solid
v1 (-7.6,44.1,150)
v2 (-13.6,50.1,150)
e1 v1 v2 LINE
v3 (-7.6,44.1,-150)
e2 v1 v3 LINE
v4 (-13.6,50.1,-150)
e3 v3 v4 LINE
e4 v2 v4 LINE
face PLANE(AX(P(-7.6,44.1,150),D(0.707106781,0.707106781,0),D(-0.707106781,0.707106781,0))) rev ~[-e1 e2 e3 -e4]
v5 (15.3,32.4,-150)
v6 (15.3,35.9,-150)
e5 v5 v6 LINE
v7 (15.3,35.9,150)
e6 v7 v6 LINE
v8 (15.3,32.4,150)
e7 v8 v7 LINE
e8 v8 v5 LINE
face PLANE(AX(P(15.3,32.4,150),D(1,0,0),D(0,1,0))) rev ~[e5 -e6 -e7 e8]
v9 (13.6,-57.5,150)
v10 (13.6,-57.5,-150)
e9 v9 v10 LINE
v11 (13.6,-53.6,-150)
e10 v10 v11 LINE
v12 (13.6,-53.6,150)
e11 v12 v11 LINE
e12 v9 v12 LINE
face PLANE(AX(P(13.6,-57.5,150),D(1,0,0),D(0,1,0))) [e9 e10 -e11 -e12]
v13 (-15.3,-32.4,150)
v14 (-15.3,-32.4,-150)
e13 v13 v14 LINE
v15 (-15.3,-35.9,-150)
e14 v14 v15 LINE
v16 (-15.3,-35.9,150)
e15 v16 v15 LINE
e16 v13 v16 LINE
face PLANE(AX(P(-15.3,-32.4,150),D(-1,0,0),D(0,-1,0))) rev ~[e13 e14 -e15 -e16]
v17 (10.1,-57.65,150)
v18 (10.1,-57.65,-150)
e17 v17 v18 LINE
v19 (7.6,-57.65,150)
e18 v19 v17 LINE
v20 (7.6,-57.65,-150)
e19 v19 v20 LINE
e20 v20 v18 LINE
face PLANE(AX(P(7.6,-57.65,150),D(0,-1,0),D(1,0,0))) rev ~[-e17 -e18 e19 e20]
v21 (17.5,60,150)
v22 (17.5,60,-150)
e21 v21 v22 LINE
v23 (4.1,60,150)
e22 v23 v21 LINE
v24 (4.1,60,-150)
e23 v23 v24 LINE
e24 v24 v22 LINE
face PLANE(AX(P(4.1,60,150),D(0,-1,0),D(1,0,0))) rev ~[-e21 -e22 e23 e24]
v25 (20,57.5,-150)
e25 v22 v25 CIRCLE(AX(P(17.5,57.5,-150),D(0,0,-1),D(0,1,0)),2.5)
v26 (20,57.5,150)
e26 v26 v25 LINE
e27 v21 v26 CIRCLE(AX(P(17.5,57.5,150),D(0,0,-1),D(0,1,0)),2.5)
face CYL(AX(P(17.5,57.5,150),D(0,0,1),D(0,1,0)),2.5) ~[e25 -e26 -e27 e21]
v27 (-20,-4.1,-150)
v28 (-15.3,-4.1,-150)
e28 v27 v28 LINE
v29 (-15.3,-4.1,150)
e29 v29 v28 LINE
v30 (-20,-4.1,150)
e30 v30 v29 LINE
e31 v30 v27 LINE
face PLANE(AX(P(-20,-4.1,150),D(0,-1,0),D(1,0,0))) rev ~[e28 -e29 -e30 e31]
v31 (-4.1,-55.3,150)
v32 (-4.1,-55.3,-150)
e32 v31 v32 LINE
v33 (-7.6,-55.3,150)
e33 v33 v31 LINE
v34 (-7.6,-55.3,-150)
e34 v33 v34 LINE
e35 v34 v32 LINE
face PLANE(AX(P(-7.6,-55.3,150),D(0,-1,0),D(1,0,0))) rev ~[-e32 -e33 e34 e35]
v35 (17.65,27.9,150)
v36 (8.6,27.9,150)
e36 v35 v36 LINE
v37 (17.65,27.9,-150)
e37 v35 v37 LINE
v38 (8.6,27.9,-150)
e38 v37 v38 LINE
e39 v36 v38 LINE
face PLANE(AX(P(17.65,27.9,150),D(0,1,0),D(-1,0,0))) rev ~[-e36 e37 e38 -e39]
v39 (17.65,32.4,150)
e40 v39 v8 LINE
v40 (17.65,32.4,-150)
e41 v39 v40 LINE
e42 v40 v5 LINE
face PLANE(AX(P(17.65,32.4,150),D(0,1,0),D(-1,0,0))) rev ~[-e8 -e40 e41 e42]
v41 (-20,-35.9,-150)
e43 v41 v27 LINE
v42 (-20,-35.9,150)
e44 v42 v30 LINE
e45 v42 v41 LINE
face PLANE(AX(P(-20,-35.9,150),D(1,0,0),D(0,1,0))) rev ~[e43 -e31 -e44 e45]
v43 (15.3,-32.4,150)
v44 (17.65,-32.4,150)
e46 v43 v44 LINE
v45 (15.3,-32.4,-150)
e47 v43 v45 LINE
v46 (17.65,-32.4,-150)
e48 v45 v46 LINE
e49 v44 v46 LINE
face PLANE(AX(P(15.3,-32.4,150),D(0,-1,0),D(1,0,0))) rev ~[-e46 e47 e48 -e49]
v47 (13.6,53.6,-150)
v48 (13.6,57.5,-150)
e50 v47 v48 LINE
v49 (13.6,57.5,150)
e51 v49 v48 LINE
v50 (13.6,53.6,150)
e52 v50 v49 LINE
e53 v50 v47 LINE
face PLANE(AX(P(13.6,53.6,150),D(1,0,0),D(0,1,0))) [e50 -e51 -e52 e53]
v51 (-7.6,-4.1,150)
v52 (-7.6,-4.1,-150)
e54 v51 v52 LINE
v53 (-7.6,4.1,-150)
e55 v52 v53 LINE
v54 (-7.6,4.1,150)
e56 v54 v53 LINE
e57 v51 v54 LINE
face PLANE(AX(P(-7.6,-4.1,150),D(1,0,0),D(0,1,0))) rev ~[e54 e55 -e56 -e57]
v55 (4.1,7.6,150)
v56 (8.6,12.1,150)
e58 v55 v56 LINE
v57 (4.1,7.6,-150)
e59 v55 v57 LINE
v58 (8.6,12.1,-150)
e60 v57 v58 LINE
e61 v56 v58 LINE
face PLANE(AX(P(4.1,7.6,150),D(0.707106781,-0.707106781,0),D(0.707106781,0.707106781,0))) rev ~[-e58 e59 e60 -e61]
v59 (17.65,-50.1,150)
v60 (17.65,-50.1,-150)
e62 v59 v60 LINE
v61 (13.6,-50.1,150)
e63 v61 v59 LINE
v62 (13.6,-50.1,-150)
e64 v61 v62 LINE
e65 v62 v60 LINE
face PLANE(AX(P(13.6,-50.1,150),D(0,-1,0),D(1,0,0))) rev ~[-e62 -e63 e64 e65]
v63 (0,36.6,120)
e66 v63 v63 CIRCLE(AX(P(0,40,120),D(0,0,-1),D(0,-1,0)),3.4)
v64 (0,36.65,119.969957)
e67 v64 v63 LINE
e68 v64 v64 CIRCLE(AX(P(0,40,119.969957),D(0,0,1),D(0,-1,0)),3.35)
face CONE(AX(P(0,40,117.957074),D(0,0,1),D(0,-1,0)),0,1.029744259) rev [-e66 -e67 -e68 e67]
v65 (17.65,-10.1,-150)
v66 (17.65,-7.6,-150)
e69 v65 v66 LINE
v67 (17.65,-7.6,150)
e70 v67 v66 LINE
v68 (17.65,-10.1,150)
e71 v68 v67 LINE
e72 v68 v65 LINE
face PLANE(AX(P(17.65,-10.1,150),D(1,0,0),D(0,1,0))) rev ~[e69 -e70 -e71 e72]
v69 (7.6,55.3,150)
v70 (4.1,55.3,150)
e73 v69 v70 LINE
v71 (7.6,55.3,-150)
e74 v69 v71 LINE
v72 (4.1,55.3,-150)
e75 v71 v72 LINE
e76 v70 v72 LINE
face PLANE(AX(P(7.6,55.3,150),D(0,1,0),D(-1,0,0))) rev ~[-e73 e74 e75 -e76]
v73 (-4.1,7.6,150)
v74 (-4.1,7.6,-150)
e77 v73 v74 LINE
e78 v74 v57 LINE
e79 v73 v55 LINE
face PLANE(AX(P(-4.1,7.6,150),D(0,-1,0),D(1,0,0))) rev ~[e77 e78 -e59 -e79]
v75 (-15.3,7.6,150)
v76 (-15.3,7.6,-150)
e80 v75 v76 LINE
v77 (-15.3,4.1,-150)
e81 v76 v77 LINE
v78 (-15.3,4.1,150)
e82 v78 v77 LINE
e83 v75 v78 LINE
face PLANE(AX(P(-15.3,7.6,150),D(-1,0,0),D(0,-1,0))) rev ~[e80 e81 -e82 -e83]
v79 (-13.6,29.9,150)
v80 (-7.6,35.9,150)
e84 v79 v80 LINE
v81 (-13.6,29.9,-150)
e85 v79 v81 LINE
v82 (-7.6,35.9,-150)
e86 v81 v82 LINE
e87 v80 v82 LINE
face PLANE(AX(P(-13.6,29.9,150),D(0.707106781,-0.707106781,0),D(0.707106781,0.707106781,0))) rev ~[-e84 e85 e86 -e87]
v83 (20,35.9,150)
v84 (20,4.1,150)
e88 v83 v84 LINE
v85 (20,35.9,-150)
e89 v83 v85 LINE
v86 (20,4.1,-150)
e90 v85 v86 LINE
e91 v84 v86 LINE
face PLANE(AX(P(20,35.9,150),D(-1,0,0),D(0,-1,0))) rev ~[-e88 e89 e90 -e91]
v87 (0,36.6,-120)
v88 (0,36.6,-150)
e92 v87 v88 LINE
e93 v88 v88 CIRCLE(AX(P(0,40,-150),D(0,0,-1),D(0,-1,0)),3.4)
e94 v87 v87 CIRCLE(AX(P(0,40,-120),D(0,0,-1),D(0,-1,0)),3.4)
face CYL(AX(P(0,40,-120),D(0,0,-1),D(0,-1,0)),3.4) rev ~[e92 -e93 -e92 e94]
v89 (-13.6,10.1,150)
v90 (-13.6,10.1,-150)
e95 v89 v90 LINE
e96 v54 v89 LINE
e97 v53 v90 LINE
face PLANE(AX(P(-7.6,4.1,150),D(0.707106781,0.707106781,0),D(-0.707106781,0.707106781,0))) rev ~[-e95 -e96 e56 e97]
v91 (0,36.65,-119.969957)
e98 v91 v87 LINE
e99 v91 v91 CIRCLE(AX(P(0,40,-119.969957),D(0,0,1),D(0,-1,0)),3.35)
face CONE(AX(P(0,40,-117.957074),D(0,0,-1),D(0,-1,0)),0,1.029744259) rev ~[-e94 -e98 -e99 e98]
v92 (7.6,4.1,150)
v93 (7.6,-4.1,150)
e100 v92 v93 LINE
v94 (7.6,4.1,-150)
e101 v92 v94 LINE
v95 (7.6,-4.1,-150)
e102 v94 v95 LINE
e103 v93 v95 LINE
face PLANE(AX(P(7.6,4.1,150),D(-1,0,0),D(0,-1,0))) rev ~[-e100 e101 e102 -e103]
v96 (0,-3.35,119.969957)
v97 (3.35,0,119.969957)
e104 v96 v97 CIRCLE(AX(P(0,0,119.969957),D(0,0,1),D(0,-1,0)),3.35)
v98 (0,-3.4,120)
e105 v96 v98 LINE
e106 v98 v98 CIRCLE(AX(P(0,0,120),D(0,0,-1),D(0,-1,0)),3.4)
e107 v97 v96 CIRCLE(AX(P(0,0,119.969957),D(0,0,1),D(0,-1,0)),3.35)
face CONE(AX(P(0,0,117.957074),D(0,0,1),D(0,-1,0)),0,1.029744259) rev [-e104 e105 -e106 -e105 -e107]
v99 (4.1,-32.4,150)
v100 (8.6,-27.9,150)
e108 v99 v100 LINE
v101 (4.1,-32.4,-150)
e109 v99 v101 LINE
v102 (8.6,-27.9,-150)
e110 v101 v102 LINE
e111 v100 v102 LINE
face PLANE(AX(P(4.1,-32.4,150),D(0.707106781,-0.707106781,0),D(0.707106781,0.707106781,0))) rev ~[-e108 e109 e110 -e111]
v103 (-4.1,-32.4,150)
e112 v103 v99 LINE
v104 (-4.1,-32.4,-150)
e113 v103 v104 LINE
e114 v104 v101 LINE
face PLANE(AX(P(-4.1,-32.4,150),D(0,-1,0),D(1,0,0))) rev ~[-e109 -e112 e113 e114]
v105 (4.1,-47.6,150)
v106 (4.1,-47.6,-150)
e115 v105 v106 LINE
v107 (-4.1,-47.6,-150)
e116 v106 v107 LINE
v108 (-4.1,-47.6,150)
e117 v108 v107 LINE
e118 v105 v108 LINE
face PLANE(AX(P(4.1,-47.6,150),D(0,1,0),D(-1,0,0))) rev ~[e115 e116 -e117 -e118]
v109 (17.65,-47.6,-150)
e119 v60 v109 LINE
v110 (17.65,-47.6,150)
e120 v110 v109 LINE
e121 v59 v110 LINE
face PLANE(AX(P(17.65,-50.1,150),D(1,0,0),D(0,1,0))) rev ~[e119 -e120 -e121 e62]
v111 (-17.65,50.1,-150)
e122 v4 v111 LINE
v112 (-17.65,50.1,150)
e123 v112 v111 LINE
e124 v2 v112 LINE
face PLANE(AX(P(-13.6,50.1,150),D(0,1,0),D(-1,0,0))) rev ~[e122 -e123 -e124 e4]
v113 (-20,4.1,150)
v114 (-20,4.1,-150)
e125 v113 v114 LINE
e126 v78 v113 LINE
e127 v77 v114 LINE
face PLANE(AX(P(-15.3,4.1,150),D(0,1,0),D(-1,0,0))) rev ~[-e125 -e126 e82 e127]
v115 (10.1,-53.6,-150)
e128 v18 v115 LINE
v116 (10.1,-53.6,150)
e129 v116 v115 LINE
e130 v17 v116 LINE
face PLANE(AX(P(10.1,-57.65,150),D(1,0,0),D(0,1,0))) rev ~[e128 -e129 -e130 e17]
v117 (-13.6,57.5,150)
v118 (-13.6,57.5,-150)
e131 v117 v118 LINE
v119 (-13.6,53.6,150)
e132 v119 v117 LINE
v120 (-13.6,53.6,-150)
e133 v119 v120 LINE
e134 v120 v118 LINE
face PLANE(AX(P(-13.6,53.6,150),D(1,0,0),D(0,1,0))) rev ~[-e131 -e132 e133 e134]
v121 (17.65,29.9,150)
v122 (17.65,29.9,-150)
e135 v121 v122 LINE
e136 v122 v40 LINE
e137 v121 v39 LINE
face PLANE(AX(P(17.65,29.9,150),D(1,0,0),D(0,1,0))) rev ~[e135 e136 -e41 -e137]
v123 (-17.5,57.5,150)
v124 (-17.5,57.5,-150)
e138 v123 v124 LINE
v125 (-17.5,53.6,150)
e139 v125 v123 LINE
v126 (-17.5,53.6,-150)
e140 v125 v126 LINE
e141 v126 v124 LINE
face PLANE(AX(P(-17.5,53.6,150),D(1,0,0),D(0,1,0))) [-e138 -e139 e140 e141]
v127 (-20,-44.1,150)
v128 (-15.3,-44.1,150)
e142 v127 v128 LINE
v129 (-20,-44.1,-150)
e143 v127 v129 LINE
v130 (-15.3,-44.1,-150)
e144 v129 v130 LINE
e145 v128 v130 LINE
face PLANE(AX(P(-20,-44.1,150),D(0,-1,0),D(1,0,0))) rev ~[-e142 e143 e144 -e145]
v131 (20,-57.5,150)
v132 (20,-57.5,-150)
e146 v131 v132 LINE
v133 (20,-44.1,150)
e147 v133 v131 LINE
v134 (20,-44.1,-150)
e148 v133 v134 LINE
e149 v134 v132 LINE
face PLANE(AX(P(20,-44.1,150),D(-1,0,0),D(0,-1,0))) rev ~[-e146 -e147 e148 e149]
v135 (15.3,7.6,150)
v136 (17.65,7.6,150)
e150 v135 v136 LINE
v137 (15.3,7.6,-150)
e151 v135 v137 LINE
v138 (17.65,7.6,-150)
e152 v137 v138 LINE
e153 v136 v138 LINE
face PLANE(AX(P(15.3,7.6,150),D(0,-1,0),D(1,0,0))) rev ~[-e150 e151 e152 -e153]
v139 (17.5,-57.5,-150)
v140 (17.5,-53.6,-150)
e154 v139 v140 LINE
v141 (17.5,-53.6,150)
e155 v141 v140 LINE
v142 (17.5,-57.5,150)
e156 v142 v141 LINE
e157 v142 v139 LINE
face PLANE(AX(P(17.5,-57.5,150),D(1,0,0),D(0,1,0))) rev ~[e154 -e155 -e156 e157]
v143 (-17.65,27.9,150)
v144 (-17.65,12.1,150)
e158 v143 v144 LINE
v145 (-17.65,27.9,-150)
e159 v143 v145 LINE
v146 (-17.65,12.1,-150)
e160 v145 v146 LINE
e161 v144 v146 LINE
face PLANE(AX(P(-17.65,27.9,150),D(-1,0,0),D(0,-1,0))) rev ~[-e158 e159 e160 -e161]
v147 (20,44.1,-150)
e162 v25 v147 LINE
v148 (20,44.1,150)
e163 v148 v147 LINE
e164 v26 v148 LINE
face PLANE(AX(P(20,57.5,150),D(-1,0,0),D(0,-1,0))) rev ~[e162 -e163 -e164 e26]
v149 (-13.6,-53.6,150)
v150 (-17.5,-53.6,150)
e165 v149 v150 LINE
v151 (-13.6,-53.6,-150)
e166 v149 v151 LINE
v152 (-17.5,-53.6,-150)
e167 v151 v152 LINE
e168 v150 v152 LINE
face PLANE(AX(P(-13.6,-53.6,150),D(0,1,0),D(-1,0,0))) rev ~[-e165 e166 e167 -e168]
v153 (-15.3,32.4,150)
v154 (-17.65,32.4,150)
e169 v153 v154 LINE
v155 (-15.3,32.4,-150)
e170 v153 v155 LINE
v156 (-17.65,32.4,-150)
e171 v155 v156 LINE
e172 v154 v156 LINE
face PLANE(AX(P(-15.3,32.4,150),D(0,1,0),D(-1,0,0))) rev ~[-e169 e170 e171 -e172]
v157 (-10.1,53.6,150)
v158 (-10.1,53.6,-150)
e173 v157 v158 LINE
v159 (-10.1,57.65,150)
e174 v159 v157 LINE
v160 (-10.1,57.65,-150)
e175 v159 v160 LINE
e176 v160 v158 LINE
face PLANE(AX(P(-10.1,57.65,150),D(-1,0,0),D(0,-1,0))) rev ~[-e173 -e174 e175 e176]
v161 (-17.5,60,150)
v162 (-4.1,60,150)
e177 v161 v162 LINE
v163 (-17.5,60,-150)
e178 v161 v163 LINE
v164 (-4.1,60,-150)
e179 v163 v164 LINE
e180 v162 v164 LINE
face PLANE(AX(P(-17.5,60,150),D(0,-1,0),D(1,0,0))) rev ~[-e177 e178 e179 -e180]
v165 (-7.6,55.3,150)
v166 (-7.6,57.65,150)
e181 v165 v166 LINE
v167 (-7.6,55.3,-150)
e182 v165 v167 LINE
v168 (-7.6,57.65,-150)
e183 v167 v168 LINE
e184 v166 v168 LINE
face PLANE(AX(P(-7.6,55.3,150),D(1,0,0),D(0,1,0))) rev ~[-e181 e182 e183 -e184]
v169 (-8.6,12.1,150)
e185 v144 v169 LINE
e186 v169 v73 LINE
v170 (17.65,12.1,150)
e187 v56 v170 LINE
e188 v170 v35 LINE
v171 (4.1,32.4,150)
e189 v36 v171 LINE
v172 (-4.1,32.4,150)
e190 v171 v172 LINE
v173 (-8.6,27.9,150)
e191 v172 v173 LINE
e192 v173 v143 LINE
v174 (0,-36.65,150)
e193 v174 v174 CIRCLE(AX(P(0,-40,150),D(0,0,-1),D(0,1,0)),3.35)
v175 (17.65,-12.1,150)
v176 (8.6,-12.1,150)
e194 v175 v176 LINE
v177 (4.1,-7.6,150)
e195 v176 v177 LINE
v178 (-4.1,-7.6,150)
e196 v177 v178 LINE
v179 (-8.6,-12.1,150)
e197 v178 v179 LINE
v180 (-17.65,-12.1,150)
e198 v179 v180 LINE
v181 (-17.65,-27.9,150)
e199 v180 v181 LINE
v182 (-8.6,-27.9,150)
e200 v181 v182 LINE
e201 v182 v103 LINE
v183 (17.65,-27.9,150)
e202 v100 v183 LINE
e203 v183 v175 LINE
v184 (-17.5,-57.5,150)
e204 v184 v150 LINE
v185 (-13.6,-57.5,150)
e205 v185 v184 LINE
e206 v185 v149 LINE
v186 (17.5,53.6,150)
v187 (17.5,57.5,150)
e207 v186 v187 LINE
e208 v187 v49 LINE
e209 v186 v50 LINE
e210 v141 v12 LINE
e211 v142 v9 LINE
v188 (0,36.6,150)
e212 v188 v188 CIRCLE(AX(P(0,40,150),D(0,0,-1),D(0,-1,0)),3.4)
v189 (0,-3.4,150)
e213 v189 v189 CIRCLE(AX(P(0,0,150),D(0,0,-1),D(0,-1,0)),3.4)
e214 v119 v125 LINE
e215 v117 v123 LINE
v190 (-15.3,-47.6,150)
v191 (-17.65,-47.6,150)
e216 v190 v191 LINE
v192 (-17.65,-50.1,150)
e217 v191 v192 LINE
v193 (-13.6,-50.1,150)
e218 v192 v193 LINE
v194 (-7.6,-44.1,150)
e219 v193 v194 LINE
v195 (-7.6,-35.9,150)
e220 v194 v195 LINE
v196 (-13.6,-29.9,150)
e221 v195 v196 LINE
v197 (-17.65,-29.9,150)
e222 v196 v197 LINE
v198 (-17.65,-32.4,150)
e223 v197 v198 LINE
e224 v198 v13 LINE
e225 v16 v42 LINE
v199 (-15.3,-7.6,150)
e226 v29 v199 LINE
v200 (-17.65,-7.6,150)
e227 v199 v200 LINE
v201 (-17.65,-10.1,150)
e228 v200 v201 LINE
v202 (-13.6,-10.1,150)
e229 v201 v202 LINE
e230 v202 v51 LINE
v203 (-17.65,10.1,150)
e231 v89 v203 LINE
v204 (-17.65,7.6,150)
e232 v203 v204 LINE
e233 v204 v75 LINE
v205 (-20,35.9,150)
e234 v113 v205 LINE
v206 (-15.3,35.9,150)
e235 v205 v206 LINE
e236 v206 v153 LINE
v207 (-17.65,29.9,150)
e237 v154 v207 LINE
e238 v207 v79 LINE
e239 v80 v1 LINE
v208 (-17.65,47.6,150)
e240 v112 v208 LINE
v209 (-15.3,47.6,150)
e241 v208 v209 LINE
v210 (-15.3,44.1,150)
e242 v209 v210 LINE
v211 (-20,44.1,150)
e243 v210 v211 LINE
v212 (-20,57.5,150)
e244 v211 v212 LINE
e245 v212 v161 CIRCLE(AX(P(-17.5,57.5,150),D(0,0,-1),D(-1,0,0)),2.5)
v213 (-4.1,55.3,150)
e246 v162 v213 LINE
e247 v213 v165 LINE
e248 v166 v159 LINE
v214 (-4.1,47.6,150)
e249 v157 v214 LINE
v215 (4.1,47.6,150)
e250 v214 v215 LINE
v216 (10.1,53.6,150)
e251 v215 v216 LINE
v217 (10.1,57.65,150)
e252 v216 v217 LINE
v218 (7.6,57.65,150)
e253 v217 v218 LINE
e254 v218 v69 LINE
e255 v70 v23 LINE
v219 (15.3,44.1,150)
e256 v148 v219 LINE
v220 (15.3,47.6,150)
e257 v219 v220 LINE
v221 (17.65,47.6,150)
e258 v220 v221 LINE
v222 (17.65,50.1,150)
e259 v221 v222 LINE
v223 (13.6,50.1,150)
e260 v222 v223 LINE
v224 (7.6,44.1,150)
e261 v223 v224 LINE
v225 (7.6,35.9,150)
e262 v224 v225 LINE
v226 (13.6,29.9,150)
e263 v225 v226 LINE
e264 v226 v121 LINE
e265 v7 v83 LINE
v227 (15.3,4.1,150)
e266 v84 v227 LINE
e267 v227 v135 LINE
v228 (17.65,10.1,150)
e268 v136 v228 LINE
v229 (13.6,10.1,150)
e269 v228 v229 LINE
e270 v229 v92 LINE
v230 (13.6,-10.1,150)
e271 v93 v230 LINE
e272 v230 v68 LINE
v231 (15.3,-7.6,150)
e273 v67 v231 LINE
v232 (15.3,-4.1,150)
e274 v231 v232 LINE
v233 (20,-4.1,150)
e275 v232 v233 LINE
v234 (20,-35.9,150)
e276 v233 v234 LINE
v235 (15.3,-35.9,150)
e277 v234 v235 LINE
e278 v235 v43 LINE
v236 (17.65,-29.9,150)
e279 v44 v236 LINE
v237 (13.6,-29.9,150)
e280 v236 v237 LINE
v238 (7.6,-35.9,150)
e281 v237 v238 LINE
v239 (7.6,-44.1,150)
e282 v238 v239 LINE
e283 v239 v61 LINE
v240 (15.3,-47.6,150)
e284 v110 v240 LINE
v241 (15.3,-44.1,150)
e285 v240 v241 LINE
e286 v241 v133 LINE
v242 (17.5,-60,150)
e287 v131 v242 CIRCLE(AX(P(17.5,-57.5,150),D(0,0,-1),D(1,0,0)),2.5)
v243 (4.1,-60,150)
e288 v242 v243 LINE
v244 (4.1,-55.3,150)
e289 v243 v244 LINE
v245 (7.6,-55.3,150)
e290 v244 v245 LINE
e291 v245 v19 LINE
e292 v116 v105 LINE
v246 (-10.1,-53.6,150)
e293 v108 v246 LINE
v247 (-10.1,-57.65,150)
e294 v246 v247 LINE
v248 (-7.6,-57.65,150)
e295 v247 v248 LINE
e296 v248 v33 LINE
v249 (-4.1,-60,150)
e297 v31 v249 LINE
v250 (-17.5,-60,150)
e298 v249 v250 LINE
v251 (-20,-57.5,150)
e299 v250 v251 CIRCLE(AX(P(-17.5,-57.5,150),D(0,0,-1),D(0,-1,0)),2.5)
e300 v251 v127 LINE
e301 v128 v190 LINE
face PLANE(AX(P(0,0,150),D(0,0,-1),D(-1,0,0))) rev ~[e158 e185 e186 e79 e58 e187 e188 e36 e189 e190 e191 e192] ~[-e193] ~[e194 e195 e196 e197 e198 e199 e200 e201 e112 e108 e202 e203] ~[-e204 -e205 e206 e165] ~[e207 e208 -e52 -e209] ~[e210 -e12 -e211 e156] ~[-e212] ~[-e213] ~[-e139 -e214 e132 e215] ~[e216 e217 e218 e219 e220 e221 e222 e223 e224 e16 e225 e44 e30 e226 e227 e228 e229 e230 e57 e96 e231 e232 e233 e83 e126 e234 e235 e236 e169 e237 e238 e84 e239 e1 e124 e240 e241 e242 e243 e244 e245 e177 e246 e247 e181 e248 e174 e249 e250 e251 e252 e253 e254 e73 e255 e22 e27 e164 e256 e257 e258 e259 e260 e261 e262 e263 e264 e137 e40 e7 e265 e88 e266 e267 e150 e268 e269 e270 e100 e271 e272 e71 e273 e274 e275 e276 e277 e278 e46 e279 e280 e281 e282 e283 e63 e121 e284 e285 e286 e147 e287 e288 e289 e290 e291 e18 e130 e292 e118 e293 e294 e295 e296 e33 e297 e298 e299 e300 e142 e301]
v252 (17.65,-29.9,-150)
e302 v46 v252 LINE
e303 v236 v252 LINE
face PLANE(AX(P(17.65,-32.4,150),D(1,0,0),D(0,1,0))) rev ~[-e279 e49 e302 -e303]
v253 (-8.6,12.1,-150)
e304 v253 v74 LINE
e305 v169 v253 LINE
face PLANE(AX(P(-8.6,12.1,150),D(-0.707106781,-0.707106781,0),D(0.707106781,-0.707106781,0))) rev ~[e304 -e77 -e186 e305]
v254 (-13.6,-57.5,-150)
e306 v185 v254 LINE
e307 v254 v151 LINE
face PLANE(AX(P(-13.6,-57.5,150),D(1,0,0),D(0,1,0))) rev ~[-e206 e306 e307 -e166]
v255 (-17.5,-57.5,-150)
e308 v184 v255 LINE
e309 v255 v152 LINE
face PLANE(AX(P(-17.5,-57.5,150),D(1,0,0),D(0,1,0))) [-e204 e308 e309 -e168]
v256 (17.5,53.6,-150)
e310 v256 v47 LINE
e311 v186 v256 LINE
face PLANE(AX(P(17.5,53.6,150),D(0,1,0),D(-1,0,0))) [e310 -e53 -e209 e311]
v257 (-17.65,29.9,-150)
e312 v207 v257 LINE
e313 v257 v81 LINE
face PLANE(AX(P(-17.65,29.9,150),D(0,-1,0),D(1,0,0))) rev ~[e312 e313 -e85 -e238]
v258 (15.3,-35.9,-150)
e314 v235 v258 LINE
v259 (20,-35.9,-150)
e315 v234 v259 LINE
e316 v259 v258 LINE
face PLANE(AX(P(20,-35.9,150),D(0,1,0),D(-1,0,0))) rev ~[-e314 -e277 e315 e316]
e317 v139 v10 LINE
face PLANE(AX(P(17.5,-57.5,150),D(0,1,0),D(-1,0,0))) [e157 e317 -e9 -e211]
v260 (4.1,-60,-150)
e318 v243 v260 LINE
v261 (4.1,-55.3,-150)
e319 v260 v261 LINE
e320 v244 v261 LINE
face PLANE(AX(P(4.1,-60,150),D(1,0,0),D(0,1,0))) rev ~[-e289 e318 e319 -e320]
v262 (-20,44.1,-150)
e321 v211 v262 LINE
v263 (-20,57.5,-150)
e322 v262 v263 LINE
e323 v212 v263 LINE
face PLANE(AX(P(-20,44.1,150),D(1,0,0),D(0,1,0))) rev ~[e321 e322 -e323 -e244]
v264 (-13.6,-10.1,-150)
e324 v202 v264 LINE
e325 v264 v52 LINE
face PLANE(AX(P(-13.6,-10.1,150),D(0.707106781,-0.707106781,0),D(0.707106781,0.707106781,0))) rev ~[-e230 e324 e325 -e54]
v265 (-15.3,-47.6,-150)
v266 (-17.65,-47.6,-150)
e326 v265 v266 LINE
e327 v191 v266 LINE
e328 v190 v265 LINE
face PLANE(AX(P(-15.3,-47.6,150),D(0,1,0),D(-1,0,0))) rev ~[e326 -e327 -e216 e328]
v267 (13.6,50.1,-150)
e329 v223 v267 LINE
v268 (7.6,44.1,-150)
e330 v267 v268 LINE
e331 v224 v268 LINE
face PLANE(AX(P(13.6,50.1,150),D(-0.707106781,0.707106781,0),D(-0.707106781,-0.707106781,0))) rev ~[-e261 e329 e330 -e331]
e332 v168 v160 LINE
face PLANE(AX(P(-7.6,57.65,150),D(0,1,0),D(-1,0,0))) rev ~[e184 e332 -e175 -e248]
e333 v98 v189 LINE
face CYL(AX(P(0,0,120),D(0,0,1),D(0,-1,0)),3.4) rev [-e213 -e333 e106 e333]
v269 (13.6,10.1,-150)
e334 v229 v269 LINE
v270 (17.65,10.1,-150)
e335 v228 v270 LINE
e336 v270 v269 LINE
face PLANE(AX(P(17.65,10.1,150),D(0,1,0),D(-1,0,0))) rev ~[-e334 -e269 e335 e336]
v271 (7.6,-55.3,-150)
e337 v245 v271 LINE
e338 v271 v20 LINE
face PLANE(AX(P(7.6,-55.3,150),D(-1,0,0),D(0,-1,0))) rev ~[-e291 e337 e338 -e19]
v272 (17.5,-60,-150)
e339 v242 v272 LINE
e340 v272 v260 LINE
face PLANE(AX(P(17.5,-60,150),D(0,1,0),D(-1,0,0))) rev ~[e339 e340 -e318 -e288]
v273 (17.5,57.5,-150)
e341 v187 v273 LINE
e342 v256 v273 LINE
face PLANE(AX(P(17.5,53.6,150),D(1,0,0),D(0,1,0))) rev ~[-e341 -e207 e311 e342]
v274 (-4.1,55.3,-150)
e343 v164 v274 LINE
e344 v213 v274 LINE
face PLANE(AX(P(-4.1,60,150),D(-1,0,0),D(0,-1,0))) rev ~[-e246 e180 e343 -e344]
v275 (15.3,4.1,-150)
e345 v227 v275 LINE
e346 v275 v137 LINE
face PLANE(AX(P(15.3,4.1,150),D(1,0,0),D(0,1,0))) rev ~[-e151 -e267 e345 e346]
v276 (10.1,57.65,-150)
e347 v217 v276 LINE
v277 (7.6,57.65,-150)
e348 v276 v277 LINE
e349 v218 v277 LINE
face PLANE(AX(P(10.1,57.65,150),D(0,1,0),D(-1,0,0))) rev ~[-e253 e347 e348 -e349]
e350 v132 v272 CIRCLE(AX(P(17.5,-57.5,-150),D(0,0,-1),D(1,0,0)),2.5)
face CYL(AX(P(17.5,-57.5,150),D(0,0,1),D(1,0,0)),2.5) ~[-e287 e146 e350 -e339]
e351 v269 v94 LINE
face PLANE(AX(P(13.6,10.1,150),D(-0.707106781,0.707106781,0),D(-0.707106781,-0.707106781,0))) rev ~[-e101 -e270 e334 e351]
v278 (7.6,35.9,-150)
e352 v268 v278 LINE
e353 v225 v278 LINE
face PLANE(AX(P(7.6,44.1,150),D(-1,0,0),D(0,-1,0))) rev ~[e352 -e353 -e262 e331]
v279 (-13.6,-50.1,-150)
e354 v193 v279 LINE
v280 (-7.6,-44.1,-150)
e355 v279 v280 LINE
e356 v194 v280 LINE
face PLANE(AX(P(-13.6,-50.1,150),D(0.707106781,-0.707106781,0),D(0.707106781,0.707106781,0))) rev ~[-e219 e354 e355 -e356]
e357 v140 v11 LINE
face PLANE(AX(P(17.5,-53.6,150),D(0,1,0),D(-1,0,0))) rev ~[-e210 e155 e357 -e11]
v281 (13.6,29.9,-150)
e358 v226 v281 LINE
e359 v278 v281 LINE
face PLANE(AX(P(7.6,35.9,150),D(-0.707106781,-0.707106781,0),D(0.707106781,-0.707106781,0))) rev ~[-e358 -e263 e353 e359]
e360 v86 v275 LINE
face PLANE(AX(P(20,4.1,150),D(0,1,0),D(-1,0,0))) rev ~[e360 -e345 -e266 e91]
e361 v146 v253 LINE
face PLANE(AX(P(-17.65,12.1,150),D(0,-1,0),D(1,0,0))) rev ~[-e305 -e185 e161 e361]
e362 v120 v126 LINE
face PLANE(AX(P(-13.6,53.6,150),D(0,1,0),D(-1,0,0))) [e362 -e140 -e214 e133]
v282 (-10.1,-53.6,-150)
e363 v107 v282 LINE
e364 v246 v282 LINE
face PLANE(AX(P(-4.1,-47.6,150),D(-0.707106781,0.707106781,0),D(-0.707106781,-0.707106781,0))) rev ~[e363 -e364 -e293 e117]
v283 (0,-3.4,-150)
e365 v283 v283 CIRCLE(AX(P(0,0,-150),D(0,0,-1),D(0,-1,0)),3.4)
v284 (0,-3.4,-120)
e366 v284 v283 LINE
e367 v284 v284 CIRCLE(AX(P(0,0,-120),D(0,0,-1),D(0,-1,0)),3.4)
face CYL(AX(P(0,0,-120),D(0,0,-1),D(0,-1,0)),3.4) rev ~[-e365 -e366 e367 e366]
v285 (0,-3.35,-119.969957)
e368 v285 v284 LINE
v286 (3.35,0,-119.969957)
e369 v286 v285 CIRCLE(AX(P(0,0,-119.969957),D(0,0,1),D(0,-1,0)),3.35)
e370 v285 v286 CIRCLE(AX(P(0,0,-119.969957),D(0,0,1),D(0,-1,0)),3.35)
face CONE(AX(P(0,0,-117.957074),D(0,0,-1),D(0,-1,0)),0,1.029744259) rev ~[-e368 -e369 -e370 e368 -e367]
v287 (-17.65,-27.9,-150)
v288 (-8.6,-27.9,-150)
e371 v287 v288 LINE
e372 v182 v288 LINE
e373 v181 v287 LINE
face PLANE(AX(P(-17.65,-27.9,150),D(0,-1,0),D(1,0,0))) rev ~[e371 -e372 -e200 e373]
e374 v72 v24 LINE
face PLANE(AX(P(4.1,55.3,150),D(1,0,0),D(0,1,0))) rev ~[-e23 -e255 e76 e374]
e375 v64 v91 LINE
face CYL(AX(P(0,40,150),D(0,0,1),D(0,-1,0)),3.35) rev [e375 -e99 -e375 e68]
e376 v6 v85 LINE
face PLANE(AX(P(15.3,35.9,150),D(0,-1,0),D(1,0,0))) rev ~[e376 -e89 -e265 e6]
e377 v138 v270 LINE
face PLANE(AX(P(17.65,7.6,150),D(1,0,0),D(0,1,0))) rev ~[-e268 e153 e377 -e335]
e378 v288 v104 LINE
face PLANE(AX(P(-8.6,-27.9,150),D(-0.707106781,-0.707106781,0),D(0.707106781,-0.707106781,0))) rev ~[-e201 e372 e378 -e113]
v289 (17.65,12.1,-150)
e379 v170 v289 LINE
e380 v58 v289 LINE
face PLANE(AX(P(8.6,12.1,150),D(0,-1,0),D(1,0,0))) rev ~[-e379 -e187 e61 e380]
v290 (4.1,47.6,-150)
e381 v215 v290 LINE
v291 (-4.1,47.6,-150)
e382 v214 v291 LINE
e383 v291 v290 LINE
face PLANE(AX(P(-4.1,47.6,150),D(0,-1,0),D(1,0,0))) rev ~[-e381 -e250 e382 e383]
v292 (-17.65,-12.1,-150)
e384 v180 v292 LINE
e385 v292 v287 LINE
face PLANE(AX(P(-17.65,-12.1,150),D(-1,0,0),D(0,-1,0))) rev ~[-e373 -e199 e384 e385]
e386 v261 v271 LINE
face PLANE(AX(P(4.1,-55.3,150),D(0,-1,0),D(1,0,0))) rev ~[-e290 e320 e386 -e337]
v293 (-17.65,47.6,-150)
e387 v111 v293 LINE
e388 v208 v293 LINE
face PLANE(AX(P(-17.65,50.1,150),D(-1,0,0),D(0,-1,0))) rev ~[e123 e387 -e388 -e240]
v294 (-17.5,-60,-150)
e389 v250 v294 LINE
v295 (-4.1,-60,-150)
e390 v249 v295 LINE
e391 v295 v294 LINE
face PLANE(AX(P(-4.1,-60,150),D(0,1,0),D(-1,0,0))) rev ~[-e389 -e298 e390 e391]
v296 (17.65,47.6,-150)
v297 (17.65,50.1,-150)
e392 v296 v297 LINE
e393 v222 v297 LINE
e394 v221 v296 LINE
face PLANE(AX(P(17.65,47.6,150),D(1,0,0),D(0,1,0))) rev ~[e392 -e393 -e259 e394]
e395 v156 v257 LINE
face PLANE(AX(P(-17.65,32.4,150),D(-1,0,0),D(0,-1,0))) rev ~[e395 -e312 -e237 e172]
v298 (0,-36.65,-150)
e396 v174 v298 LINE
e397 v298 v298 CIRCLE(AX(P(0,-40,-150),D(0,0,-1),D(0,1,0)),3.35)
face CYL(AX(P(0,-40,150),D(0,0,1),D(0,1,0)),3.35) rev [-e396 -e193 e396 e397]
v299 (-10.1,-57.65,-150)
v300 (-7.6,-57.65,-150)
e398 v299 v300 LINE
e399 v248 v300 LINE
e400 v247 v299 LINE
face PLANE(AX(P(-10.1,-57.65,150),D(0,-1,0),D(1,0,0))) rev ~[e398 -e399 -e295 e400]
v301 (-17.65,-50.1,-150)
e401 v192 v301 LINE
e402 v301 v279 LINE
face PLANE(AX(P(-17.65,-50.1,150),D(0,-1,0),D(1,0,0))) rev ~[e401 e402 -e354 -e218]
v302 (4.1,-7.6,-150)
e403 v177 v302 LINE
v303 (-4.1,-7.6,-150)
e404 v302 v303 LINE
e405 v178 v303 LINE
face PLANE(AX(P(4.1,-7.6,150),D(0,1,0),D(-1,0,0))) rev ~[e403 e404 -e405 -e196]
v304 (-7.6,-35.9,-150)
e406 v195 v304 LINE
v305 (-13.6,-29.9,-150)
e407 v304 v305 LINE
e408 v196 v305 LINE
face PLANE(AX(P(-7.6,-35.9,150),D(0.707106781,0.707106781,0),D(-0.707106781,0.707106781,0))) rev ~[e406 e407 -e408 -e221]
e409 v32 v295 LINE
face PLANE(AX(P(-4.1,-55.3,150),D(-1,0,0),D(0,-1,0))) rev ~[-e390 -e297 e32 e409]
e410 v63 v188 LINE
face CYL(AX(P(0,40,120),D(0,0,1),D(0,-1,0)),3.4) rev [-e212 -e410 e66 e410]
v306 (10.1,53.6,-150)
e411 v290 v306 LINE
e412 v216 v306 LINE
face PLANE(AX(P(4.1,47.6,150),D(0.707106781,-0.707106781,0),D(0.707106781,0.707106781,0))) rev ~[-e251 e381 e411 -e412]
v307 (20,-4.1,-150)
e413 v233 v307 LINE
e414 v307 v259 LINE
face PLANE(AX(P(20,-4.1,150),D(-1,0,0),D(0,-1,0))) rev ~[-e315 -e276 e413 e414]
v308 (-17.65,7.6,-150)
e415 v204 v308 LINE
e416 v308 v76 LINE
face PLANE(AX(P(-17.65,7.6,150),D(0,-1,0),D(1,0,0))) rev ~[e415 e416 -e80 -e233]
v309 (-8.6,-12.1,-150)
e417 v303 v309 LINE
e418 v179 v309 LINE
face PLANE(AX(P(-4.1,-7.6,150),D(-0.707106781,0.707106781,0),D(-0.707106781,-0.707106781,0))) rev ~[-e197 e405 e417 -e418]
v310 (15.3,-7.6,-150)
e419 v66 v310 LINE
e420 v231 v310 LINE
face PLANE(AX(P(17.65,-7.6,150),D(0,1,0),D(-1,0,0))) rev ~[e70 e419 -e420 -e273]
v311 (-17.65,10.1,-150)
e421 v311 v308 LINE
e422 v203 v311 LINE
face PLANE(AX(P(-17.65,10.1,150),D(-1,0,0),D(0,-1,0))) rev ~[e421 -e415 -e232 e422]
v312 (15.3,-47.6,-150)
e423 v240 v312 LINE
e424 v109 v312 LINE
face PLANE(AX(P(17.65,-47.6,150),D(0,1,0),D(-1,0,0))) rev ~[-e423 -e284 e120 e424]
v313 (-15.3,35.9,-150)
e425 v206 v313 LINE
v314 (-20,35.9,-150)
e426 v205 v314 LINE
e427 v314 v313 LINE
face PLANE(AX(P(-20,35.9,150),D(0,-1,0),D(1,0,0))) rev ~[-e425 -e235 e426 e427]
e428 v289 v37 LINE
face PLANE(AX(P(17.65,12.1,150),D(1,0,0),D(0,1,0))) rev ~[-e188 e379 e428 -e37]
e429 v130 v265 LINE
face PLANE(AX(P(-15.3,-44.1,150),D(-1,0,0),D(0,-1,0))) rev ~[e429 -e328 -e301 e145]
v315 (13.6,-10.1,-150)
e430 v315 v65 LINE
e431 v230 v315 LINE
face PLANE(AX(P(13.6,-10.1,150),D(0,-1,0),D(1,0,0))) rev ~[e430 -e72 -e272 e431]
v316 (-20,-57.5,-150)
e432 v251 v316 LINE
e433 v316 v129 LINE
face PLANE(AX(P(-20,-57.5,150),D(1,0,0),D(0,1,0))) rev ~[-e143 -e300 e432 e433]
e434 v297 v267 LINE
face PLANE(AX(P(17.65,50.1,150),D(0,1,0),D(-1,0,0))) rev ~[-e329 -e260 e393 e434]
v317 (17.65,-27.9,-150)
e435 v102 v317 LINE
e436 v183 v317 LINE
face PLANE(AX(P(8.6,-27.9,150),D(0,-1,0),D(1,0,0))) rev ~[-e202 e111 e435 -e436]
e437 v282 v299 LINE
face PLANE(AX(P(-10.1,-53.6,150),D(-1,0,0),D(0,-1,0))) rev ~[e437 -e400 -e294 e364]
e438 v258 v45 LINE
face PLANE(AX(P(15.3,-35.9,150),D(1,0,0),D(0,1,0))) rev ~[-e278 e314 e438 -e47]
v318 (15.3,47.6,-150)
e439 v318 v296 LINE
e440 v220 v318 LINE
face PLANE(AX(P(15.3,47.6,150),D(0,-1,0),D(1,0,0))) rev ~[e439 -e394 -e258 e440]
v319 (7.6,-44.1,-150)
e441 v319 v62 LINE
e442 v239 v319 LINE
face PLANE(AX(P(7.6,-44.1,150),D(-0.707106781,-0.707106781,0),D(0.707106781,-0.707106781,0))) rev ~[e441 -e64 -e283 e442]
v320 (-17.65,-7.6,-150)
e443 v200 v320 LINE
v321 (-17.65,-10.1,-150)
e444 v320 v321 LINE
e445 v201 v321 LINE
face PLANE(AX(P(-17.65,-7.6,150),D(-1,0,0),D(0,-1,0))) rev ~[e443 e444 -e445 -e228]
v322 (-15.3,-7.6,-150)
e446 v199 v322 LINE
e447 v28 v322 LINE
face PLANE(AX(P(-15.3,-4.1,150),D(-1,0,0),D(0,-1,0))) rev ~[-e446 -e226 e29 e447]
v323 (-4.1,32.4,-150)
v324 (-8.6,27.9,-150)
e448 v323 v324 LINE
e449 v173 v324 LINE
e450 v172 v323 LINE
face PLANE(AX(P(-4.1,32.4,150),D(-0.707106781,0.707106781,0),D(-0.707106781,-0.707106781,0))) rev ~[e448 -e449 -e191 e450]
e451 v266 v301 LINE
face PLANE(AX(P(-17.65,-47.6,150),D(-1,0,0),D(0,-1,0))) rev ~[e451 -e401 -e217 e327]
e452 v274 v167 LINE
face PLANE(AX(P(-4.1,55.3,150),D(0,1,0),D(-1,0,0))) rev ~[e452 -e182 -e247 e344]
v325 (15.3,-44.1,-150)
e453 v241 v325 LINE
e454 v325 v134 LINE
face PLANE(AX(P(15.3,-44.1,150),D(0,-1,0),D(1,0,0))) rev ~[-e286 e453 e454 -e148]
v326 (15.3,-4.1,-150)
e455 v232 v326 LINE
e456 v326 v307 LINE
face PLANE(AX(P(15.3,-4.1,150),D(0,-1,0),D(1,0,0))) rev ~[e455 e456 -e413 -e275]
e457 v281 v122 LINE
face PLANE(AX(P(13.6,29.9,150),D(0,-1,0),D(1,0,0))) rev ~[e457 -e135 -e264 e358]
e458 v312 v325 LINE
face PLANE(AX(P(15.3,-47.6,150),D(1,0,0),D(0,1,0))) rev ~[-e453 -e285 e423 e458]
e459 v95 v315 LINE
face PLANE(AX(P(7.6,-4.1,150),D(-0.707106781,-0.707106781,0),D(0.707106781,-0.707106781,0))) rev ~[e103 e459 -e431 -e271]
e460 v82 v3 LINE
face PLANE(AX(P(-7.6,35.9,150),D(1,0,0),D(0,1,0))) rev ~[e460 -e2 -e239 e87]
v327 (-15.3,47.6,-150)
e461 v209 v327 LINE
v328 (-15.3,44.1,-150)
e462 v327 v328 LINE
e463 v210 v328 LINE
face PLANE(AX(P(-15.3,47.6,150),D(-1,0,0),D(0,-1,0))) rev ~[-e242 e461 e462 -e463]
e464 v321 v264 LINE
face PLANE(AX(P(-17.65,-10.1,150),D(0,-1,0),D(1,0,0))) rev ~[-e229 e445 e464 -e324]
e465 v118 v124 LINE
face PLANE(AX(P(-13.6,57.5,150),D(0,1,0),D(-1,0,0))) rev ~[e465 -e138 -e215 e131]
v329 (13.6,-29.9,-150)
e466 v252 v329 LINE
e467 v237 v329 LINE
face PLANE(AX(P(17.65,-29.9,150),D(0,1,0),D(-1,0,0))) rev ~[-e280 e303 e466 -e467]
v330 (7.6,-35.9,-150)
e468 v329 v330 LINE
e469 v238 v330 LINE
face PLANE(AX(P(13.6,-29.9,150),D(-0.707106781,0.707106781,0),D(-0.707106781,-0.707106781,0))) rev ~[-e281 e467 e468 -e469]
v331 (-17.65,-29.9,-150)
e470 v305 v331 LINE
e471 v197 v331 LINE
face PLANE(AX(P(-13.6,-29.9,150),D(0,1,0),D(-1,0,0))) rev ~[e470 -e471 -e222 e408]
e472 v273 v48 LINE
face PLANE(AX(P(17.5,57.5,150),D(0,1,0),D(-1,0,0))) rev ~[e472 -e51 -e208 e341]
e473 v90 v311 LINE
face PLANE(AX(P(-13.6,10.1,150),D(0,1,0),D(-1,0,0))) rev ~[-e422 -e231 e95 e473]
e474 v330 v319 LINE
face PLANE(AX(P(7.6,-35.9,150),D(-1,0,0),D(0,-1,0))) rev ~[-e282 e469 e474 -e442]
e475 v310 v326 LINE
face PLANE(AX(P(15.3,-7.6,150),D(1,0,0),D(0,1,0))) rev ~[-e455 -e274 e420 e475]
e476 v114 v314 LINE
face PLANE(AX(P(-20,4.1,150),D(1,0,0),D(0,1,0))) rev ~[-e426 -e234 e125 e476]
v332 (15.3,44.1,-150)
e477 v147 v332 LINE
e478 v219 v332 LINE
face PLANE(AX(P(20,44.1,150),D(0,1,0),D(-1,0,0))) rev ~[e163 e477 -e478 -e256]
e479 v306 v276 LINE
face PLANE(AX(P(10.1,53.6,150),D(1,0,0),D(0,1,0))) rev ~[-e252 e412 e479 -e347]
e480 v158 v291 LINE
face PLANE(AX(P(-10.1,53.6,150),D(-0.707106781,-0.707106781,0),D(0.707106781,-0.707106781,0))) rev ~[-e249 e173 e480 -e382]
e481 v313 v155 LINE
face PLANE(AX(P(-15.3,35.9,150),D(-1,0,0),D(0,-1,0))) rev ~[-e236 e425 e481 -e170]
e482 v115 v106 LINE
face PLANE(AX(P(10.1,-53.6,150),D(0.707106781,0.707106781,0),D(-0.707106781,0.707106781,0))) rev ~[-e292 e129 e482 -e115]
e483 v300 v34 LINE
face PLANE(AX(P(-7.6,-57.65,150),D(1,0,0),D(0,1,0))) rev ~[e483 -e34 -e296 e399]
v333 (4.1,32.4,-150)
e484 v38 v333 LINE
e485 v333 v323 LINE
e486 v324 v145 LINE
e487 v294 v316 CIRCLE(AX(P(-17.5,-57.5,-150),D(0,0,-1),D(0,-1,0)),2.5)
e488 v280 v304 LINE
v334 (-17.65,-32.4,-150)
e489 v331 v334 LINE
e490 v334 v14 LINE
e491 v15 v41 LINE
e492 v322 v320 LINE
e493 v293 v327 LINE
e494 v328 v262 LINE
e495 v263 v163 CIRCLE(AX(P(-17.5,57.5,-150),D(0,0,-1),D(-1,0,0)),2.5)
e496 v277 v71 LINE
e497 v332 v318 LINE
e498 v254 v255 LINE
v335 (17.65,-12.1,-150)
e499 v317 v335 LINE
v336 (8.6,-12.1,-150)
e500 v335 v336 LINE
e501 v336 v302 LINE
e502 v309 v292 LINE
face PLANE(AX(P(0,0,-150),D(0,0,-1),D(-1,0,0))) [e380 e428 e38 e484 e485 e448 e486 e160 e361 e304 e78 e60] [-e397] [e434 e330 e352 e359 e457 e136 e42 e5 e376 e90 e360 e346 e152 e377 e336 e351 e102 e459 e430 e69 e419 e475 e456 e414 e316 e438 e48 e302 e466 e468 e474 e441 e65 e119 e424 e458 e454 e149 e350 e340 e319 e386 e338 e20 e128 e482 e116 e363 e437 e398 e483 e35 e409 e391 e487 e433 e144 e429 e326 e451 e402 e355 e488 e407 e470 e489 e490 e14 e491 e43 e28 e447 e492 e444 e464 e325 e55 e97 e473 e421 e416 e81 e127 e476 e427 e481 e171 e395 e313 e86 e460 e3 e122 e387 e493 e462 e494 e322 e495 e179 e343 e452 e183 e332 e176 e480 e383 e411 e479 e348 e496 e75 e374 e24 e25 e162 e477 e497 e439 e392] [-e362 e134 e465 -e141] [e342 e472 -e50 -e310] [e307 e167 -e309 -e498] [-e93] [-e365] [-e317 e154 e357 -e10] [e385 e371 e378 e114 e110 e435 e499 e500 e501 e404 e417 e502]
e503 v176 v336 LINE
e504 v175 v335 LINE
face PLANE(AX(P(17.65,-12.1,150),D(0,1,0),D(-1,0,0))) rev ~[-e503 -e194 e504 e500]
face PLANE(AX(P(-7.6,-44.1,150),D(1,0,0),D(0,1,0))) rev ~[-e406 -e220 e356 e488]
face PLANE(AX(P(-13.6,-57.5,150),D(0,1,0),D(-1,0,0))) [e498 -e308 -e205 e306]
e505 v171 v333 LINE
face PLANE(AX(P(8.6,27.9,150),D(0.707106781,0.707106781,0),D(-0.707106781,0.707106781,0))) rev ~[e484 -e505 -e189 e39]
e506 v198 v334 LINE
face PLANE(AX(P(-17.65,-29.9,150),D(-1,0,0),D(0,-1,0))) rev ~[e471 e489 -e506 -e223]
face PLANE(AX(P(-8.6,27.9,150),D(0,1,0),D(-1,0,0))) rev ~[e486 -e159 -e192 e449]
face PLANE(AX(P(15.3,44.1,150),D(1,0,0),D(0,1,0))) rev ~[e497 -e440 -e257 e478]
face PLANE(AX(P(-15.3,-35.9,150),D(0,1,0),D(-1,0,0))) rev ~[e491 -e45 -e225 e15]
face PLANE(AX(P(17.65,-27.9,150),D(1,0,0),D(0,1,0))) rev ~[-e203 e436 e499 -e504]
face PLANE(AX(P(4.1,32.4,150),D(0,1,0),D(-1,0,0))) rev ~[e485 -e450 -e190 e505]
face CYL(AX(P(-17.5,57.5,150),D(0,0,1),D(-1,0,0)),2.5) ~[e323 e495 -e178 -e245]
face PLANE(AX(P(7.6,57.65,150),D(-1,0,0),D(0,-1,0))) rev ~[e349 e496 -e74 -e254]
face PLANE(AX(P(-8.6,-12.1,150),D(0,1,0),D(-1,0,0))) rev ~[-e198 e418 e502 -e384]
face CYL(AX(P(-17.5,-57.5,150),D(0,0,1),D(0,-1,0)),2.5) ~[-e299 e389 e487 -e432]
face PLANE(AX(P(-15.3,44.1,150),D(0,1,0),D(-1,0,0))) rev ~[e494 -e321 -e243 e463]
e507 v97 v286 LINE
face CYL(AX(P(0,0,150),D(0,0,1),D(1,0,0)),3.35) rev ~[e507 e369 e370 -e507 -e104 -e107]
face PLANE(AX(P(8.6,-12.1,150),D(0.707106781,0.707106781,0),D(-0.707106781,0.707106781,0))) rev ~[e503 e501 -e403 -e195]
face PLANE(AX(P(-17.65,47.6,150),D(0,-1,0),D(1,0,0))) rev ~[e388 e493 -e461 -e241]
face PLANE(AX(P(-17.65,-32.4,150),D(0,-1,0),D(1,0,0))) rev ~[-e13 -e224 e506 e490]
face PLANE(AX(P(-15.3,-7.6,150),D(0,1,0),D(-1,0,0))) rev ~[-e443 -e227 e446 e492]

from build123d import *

# Parameters (mm, degrees)
SKETCH22_W                      = 3.9
SKETCH22_H                      = 3.9
F_40_SERIES_TS40_120LM_1_DEPTH  = 300
M8X1_25_TAPPED_HOLE1_AT_2_COUNT = 2
M8X1_25_TAPPED_HOLE1_AT_2_PITCH = 40


with BuildPart() as part:
    # Sketch22 → 40 series TS40-120LM(1) (new body)
    with BuildSketch(Plane(origin=(0, 0, 150), x_dir=(-1, 0, 0), z_dir=(0, 0, -1))):
        with BuildLine():
            Line((15.3, -35.9), (20, -35.9))
            Line((20, -35.9), (20, -4.1))
            Line((20, -4.1), (15.3, -4.1))
            Line((15.3, -4.1), (15.3, -7.6))
            Line((15.3, -7.6), (17.65, -7.6))
            Line((17.65, -7.6), (17.65, -10.1))
            Line((17.65, -10.1), (13.6, -10.1))
            Line((13.6, -10.1), (7.6, -4.1))
            Line((7.6, -4.1), (7.6, 4.1))
            Line((7.6, 4.1), (13.6, 10.1))
            Line((13.6, 10.1), (17.65, 10.1))
            Line((17.65, 10.1), (17.65, 7.6))
            Line((17.65, 7.6), (15.3, 7.6))
            Line((15.3, 7.6), (15.3, 4.1))
            Line((15.3, 4.1), (20, 4.1))
            Line((20, 4.1), (20, 35.9))
            Line((20, 35.9), (15.3, 35.9))
            Line((15.3, 35.9), (15.3, 32.4))
            Line((15.3, 32.4), (17.65, 32.4))
            Line((17.65, 32.4), (17.65, 29.9))
            Line((17.65, 29.9), (13.6, 29.9))
            Line((13.6, 29.9), (7.6, 35.9))
            Line((7.6, 35.9), (7.6, 44.1))
            Line((7.6, 44.1), (13.6, 50.1))
            Line((13.6, 50.1), (17.65, 50.1))
            Line((17.65, 50.1), (17.65, 47.6))
            Line((17.65, 47.6), (15.3, 47.6))
            Line((15.3, 47.6), (15.3, 44.1))
            Line((15.3, 44.1), (20, 44.1))
            Line((20, 44.1), (20, 57.5))
            ThreePointArc((20, 57.5), (19.267766953, 59.267766953), (17.5, 60))
            Line((17.5, 60), (4.1, 60))
            Line((4.1, 60), (4.1, 55.3))
            Line((4.1, 55.3), (7.6, 55.3))
            Line((7.6, 55.3), (7.6, 57.65))
            Line((7.6, 57.65), (10.1, 57.65))
            Line((10.1, 57.65), (10.1, 53.6))
            Line((10.1, 53.6), (4.1, 47.6))
            Line((4.1, 47.6), (-4.1, 47.6))
            Line((-4.1, 47.6), (-10.1, 53.6))
            Line((-10.1, 53.6), (-10.1, 57.65))
            Line((-10.1, 57.65), (-7.6, 57.65))
            Line((-7.6, 57.65), (-7.6, 55.3))
            Line((-7.6, 55.3), (-4.1, 55.3))
            Line((-4.1, 55.3), (-4.1, 60))
            Line((-4.1, 60), (-17.5, 60))
            ThreePointArc((-17.5, 60), (-19.267766953, 59.267766953), (-20, 57.5))
            Line((-20, 57.5), (-20, 44.1))
            Line((-20, 44.1), (-15.3, 44.1))
            Line((-15.3, 44.1), (-15.3, 47.6))
            Line((-15.3, 47.6), (-17.65, 47.6))
            Line((-17.65, 47.6), (-17.65, 50.1))
            Line((-17.65, 50.1), (-13.6, 50.1))
            Line((-13.6, 50.1), (-7.6, 44.1))
            Line((-7.6, 44.1), (-7.6, 35.9))
            Line((-7.6, 35.9), (-13.6, 29.9))
            Line((-13.6, 29.9), (-17.65, 29.9))
            Line((-17.65, 29.9), (-17.65, 32.4))
            Line((-17.65, 32.4), (-15.3, 32.4))
            Line((-15.3, 32.4), (-15.3, 35.9))
            Line((-15.3, 35.9), (-20, 35.9))
            Line((-20, 35.9), (-20, 4.1))
            Line((-20, 4.1), (-15.3, 4.1))
            Line((-15.3, 4.1), (-15.3, 7.6))
            Line((-15.3, 7.6), (-17.65, 7.6))
            Line((-17.65, 7.6), (-17.65, 10.1))
            Line((-17.65, 10.1), (-13.6, 10.1))
            Line((-13.6, 10.1), (-7.6, 4.1))
            Line((-7.6, 4.1), (-7.6, -4.1))
            Line((-7.6, -4.1), (-13.6, -10.1))
            Line((-13.6, -10.1), (-17.65, -10.1))
            Line((-17.65, -10.1), (-17.65, -7.6))
            Line((-17.65, -7.6), (-15.3, -7.6))
            Line((-15.3, -7.6), (-15.3, -4.1))
            Line((-15.3, -4.1), (-20, -4.1))
            Line((-20, -4.1), (-20, -35.9))
            Line((-20, -35.9), (-15.3, -35.9))
            Line((-15.3, -35.9), (-15.3, -32.4))
            Line((-15.3, -32.4), (-17.65, -32.4))
            Line((-17.65, -32.4), (-17.65, -29.9))
            Line((-17.65, -29.9), (-13.6, -29.9))
            Line((-13.6, -29.9), (-7.6, -35.9))
            Line((-7.6, -35.9), (-7.6, -44.1))
            Line((-7.6, -44.1), (-13.6, -50.1))
            Line((-13.6, -50.1), (-17.65, -50.1))
            Line((-17.65, -50.1), (-17.65, -47.6))
            Line((-17.65, -47.6), (-15.3, -47.6))
            Line((-15.3, -47.6), (-15.3, -44.1))
            Line((-15.3, -44.1), (-20, -44.1))
            Line((-20, -44.1), (-20, -57.5))
            ThreePointArc((-20, -57.5), (-19.267766953, -59.267766953), (-17.5, -60))
            Line((-17.5, -60), (-4.1, -60))
            Line((-4.1, -60), (-4.1, -55.3))
            Line((-4.1, -55.3), (-7.6, -55.3))
            Line((-7.6, -55.3), (-7.6, -57.65))
            Line((-7.6, -57.65), (-10.1, -57.65))
            Line((-10.1, -57.65), (-10.1, -53.6))
            Line((-10.1, -53.6), (-4.1, -47.6))
            Line((-4.1, -47.6), (4.1, -47.6))
            Line((4.1, -47.6), (10.1, -53.6))
            Line((10.1, -53.6), (10.1, -57.65))
            Line((10.1, -57.65), (7.6, -57.65))
            Line((7.6, -57.65), (7.6, -55.3))
            Line((7.6, -55.3), (4.1, -55.3))
            Line((4.1, -55.3), (4.1, -60))
            Line((4.1, -60), (17.5, -60))
            ThreePointArc((17.5, -60), (19.267766953, -59.267766953), (20, -57.5))
            Line((20, -57.5), (20, -44.1))
            Line((20, -44.1), (15.3, -44.1))
            Line((15.3, -44.1), (15.3, -47.6))
            Line((15.3, -47.6), (17.65, -47.6))
            Line((17.65, -47.6), (17.65, -50.1))
            Line((17.65, -50.1), (13.6, -50.1))
            Line((13.6, -50.1), (7.6, -44.1))
            Line((7.6, -44.1), (7.6, -35.9))
            Line((7.6, -35.9), (13.6, -29.9))
            Line((13.6, -29.9), (17.65, -29.9))
            Line((17.65, -29.9), (17.65, -32.4))
            Line((17.65, -32.4), (15.3, -32.4))
            Line((15.3, -32.4), (15.3, -35.9))
        make_face()
        Polygon((-4.1, -7.6), (4.1, -7.6), (8.6, -12.1), (17.65, -12.1), (17.65, -27.9), (8.6, -27.9), (4.1, -32.4), (-4.1, -32.4), (-8.6, -27.9), (-17.65, -27.9), (-17.65, -12.1), (-8.6, -12.1), align=None, mode=Mode.SUBTRACT)
        Polygon((-4.1, 7.6), (-8.6, 12.1), (-17.65, 12.1), (-17.65, 27.9), (-8.6, 27.9), (-4.1, 32.4), (4.1, 32.4), (8.6, 27.9), (17.65, 27.9), (17.65, 12.1), (8.6, 12.1), (4.1, 7.6), align=None, mode=Mode.SUBTRACT)
        with Locations((15.55, -55.55)):
            Rectangle(SKETCH22_W, SKETCH22_H, mode=Mode.SUBTRACT)
        with Locations((-15.55, -55.55)):
            Rectangle(SKETCH22_W, SKETCH22_H, mode=Mode.SUBTRACT)
        with Locations((-15.55, 55.55)):
            Rectangle(SKETCH22_W, SKETCH22_H, mode=Mode.SUBTRACT)
        with Locations((15.55, 55.55)):
            Rectangle(SKETCH22_W, SKETCH22_H, mode=Mode.SUBTRACT)
        with BuildLine():
            ThreePointArc((0, -43.35), (3.35, -40), (0, -36.65))
            ThreePointArc((0, -36.65), (-3.35, -40), (0, -43.35))
        make_face(mode=Mode.SUBTRACT)
        with BuildLine():
            ThreePointArc((3.35, 0), (0, -3.35), (-3.35, 0))
            ThreePointArc((-3.35, 0), (0, 3.35), (3.35, 0))
        make_face(mode=Mode.SUBTRACT)
        with BuildLine():
            ThreePointArc((0, 43.35), (-3.35, 40), (0, 36.65))
            ThreePointArc((0, 36.65), (3.35, 40), (0, 43.35))
        make_face(mode=Mode.SUBTRACT)
    extrude(amount=F_40_SERIES_TS40_120LM_1_DEPTH)

    # Sketch4 → M8x1.25 Tapped Hole1 (revolve, cut)
    with BuildSketch(Plane(origin=(0, 0, 150), x_dir=(0, -1, 0), z_dir=(1, 0, 0))):
        Polygon((0, 0), (0, 32.042926105), (3.4, 30), (3.4, 0), align=None)
    m8x1_25_tapped_hole1 = revolve(axis=Axis((0, 0, 156.35), (0, 0, -1)), mode=Mode.SUBTRACT)

    # M8x1.25 Tapped Hole1 at 2: M8x1.25 Tapped Hole1 ×2
    with Locations(*[(0, i * M8X1_25_TAPPED_HOLE1_AT_2_PITCH, 0) for i in range(1, M8X1_25_TAPPED_HOLE1_AT_2_COUNT)]):
        add(m8x1_25_tapped_hole1, mode=Mode.SUBTRACT)

    # Mirror1: M8x1.25 Tapped Hole1 across plane
    add(m8x1_25_tapped_hole1.mirror(Plane.XY), mode=Mode.SUBTRACT)

    # Mirror1 copy 1 sketch → Mirror1 copy 1 (revolve, cut)
    with BuildSketch(Plane(origin=(0, 40, -150), x_dir=(0, -1, 0), z_dir=(1, 0, 0))):
        Polygon((0, 0), (0, -32.042926105), (3.4, -30), (3.4, 0), align=None)
    revolve(axis=Axis((0, 40, -156.35), (0, 0, -1)), mode=Mode.SUBTRACT)


solid = part.part
